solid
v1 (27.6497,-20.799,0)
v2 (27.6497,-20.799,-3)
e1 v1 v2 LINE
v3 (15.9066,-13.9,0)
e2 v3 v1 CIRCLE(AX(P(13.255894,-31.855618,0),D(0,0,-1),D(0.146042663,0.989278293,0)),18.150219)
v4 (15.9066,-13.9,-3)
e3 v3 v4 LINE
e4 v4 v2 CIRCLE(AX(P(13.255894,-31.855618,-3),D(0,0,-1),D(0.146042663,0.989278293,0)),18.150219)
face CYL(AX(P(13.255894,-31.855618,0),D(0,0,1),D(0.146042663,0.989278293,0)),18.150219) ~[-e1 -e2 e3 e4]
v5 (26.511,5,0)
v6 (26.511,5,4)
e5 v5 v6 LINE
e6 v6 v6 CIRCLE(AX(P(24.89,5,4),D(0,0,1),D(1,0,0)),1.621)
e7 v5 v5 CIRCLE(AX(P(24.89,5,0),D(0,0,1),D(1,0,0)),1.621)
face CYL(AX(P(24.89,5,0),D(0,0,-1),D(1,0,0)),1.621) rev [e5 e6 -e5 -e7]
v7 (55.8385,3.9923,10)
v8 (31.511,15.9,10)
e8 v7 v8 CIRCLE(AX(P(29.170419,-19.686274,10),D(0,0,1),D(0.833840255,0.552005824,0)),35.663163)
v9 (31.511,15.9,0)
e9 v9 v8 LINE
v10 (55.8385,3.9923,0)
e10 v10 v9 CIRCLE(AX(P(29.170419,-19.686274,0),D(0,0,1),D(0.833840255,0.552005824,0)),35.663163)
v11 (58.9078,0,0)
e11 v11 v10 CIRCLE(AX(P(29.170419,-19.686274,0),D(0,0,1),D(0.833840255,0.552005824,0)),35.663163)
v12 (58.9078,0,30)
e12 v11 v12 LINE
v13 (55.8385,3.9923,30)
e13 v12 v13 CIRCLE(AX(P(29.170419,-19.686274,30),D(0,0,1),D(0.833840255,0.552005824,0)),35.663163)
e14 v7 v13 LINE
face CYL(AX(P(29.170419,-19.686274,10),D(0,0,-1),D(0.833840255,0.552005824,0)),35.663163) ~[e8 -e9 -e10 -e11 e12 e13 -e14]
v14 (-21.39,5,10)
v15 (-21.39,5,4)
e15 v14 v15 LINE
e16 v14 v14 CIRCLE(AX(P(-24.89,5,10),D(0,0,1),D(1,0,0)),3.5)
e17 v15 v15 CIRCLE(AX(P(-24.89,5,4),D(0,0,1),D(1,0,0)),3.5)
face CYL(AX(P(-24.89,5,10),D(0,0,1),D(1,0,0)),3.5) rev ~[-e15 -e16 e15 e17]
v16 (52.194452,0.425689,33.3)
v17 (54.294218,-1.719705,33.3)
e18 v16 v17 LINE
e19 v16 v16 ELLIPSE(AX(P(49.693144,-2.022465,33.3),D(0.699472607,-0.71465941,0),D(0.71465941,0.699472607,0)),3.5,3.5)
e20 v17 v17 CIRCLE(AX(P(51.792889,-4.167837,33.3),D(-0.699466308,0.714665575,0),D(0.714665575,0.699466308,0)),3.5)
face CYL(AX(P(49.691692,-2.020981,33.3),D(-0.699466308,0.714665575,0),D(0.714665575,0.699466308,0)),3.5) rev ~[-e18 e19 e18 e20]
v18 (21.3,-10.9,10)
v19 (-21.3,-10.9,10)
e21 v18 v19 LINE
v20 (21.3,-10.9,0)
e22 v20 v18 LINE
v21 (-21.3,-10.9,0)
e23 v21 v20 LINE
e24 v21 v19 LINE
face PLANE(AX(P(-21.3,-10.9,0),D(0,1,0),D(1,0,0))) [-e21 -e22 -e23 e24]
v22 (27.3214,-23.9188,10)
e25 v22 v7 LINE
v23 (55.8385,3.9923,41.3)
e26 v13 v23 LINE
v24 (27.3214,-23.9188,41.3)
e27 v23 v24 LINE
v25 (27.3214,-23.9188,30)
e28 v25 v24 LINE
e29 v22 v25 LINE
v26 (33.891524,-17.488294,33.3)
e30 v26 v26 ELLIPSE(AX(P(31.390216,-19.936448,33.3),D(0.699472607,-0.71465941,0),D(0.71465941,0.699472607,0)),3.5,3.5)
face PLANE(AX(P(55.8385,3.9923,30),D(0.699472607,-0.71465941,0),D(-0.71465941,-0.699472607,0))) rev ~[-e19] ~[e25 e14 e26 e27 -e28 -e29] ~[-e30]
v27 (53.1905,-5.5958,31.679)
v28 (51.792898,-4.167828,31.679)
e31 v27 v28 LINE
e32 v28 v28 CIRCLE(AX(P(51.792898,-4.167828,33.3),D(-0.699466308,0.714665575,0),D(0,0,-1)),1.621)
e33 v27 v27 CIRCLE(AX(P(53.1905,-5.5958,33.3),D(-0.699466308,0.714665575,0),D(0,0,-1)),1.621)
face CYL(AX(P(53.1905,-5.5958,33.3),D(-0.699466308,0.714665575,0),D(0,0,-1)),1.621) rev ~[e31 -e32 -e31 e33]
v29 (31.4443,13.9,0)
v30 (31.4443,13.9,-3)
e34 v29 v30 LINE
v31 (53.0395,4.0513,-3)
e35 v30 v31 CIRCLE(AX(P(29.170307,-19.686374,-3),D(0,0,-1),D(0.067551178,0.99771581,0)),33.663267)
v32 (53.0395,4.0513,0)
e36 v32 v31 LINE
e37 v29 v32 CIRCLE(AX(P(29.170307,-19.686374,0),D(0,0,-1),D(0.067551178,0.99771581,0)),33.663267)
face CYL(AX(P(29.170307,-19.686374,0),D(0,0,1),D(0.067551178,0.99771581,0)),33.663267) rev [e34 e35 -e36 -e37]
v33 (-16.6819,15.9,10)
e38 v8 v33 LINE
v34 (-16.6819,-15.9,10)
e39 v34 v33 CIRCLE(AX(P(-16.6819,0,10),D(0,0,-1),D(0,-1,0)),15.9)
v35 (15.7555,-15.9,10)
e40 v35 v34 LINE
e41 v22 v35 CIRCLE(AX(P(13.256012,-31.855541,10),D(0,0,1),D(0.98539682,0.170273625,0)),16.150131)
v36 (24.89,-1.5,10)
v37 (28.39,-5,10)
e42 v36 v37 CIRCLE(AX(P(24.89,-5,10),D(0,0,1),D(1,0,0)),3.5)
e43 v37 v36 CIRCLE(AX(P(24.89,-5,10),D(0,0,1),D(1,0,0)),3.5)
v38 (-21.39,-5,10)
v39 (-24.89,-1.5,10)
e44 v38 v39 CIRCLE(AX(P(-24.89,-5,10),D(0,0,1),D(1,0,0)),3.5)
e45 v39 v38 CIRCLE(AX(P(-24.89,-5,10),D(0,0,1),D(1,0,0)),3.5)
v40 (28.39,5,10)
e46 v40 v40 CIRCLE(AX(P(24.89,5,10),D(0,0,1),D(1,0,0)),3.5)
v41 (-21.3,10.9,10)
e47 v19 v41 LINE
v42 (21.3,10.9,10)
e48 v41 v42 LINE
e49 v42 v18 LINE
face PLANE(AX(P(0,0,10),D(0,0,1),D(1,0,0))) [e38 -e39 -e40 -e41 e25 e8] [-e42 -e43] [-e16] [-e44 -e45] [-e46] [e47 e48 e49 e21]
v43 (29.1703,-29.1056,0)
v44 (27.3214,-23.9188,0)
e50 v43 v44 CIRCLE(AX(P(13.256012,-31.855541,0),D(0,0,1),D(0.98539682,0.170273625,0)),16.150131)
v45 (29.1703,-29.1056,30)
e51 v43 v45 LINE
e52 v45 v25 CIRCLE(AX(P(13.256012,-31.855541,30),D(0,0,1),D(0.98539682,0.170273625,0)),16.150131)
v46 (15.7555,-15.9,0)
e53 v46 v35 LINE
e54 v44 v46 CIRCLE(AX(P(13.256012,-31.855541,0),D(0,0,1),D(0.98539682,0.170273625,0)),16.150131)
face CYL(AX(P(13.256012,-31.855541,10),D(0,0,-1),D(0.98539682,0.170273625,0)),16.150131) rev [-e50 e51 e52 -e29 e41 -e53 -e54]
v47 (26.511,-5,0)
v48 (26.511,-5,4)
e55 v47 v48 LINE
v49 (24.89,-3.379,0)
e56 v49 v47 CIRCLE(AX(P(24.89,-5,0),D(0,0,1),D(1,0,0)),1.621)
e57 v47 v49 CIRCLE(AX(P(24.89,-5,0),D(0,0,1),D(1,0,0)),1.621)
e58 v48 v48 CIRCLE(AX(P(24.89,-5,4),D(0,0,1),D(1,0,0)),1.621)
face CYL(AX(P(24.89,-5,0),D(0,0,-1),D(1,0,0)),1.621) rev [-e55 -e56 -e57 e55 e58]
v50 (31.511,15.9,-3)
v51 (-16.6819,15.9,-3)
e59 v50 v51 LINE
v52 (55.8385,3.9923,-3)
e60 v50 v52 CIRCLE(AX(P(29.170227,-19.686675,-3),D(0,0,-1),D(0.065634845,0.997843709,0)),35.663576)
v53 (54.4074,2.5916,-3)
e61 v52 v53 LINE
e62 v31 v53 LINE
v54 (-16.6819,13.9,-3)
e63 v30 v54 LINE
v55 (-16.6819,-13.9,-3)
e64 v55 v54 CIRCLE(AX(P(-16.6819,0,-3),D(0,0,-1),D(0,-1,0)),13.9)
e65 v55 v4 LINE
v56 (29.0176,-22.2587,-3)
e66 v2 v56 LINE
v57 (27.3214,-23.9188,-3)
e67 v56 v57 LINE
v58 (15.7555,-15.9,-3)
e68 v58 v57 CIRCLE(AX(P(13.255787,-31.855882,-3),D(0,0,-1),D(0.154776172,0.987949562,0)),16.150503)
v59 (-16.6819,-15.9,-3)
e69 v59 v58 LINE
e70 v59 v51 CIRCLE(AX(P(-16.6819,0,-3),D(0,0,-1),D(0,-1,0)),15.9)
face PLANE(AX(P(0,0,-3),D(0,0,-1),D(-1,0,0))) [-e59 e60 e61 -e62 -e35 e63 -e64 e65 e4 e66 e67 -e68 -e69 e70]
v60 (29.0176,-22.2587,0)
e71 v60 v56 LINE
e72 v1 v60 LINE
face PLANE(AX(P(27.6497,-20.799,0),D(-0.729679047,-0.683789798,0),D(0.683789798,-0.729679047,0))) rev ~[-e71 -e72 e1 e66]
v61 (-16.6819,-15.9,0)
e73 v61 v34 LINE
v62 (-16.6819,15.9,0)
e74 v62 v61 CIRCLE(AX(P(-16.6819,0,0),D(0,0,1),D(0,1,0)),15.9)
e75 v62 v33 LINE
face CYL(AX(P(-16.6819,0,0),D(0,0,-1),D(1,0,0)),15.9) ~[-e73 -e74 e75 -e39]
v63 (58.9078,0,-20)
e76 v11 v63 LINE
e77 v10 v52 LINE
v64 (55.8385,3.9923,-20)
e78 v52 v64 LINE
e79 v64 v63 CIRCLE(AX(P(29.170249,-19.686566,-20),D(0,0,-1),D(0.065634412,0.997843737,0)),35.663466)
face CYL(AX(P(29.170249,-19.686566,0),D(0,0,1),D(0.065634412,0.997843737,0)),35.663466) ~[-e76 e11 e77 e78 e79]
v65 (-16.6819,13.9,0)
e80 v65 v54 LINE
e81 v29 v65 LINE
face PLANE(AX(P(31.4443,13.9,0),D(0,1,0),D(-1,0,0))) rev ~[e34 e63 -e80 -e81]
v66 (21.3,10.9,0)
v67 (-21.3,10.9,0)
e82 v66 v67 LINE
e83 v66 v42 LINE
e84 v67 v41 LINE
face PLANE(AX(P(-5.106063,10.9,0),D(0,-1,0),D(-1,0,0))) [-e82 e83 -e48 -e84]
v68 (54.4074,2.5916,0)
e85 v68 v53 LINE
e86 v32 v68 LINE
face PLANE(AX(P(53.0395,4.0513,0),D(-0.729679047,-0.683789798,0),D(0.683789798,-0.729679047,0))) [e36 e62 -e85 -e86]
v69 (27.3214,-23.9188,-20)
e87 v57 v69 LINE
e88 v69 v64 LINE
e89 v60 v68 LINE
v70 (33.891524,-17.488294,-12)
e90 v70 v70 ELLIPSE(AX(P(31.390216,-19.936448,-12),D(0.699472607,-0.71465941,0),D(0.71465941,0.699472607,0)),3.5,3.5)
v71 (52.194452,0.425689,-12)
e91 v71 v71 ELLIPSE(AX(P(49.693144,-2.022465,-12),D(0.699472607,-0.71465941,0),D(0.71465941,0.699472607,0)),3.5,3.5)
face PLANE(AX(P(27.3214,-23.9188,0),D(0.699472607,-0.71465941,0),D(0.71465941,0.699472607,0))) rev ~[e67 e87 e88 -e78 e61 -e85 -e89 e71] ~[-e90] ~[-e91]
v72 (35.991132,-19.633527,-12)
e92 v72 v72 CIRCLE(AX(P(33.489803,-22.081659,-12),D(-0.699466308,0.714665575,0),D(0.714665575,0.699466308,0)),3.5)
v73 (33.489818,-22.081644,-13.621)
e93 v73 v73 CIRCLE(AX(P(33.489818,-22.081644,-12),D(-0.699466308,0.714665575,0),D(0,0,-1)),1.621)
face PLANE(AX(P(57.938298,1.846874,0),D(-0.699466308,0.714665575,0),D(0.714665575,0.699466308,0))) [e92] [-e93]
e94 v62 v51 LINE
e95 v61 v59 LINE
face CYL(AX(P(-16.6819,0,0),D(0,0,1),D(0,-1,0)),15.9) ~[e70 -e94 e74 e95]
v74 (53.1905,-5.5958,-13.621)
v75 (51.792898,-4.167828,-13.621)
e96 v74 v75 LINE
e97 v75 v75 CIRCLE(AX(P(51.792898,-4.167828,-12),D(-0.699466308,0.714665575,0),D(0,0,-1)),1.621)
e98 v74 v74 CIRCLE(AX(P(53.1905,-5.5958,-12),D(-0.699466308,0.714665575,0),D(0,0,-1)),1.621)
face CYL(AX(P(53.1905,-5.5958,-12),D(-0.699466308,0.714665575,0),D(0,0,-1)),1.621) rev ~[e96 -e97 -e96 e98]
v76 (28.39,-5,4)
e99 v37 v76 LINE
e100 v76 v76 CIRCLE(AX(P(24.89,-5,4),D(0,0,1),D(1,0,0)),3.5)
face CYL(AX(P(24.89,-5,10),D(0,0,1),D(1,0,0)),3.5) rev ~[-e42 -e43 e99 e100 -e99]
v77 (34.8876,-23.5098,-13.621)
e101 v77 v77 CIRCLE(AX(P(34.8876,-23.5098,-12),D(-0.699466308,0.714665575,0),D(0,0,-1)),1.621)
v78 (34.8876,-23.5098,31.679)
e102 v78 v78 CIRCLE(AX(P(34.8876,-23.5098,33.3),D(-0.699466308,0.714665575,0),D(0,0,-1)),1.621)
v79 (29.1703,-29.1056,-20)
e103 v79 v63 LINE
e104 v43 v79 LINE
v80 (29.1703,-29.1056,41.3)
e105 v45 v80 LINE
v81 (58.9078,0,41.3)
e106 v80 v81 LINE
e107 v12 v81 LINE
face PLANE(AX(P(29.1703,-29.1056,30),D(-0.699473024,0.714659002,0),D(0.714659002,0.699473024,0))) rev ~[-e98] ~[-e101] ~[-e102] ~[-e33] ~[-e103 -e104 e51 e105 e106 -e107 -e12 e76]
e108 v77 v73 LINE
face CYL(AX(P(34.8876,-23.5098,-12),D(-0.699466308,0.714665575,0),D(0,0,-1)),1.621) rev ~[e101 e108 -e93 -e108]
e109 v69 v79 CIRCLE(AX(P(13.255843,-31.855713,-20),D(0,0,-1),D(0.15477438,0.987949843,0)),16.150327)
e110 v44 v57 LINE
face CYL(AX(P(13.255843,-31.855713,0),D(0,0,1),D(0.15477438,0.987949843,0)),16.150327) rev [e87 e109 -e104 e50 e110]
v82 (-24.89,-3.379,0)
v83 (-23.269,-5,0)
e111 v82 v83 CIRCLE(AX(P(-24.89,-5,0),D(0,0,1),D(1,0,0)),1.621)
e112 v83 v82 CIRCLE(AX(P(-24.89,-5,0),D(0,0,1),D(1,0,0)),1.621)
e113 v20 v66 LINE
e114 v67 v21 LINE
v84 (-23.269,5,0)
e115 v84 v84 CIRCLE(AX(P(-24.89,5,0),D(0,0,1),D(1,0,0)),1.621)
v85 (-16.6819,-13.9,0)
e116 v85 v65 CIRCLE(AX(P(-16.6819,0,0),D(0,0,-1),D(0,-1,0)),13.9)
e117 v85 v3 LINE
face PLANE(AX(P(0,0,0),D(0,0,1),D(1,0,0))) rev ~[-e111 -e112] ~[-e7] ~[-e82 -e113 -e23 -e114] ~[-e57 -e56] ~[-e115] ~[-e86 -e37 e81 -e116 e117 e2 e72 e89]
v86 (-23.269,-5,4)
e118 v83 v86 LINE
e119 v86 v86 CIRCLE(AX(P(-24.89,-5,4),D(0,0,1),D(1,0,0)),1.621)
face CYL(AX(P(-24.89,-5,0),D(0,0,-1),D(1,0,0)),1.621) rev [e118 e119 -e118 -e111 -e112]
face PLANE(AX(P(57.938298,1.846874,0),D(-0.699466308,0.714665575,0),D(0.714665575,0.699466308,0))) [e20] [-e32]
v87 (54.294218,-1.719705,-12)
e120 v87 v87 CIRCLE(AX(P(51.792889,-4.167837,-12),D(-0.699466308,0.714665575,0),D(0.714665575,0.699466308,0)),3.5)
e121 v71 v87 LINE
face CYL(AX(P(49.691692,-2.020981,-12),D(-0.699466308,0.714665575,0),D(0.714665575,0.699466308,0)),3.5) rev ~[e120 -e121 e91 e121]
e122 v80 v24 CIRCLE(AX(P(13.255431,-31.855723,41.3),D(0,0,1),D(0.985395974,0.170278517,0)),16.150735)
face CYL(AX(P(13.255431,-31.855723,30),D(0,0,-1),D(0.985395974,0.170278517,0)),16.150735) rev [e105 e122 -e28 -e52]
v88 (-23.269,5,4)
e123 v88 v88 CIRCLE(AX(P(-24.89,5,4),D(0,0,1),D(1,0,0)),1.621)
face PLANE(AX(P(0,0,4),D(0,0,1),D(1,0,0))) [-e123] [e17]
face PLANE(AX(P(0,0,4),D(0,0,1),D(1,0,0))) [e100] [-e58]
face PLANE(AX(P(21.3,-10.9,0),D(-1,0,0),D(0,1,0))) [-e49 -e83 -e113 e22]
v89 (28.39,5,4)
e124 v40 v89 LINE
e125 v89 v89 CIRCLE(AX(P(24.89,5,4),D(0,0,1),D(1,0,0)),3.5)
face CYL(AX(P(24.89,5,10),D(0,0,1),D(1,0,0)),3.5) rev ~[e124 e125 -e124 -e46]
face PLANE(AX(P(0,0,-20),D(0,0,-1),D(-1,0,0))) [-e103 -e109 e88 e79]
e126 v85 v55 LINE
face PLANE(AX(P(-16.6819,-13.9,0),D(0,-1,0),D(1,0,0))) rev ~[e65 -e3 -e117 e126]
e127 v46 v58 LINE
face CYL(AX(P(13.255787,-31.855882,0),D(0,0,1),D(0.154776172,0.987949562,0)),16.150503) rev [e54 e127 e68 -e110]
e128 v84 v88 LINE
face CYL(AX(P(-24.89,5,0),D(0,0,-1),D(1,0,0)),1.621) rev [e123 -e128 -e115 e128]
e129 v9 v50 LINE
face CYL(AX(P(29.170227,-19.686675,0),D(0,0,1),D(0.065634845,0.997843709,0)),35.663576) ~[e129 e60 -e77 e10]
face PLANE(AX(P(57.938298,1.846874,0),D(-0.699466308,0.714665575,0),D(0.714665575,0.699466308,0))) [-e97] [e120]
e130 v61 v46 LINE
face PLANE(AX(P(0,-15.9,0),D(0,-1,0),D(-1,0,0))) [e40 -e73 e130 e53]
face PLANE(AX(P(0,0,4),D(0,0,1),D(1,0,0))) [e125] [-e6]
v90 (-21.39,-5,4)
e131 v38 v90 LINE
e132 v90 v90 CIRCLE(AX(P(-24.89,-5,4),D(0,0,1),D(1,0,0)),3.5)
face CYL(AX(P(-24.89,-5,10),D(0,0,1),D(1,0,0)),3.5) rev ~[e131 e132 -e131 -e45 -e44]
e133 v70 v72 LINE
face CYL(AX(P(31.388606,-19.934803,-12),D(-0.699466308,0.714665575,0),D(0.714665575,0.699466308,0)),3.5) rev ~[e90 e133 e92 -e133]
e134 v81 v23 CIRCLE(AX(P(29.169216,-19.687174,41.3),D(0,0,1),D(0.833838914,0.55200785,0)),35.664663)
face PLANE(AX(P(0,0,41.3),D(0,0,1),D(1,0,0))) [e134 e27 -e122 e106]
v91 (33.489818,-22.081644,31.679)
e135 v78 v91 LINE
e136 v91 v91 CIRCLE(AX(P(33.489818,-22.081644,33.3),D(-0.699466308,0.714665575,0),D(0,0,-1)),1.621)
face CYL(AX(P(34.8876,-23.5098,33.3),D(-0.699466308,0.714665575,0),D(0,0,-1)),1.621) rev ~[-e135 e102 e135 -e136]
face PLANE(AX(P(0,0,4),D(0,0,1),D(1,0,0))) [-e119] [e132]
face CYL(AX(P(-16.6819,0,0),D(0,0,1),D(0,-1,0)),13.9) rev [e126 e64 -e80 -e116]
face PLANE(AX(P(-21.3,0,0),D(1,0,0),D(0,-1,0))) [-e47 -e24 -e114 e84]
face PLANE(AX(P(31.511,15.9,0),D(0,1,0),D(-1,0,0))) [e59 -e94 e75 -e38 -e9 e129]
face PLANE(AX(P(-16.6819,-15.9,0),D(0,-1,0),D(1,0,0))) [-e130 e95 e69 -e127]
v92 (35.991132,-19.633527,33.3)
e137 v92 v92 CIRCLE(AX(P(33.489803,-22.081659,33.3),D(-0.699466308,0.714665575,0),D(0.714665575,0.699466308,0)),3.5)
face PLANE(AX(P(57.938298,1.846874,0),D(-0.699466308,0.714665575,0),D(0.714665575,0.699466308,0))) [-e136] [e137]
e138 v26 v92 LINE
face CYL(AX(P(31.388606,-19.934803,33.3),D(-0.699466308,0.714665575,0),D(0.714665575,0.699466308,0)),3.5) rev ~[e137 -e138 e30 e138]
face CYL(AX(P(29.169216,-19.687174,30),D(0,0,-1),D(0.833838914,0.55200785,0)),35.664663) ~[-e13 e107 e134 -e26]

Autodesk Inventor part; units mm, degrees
ref_plane "YZ Plane" through (0, 0, 0) normal (1, 0, 0) x (0, 1, 0)
ref_plane "XZ Plane" through (0, 0, 0) normal (0, 1, 0) x (-1, 0, 0)
ref_plane "XY Plane" through (0, 0, 0) normal (0, 0, 1) x (1, 0, 0)
sketch "Szkic1" plane through (0, 0, 0) normal (0, 0, 1) x (1, 0, 0)
  line L0 (20.3, -9.9) -> (-20.3, -9.9)
  line L1 (-20.3, -9.9) -> (-20.3, 9.9)
  line L2 (-20.3, 9.9) -> (20.3, 9.9)
  line L3 (20.3, 9.9) -> (20.3, -9.9)
  line L4 (20.3, -9.9) -> (-20.3, 9.9) construction
  line L5 (-20.3, -9.9) -> (20.3, 9.9) construction
  line L6 (21.3, 10.9) -> (-21.3, 10.9)
  line L7 (-21.3, 10.9) -> (-21.3, -10.9)
  line L8 (-21.3, -10.9) -> (21.3, -10.9)
  line L9 (21.3, -10.9) -> (21.3, 10.9)
  line L10 (0, 0) -> (24.89, 0)
  line L11 (24.89, 0) -> (24.89, 5)
  line L12 (24.89, 5) -> (24.89, -5)
  line L13 (0, 0) -> (-24.89, 0)
  line L14 (-24.89, 5) -> (-24.89, 0)
  line L15 (-24.89, 0) -> (-24.89, -5)
  circle A0 centre (-24.89, 5) radius 1.621
  circle A1 centre (-24.89, -5) radius 1.621
  circle A2 centre (24.89, -5) radius 1.621
  circle A3 centre (24.89, 5) radius 1.621
  line L16 (-26.511, 5) -> (-31.511, 5)
  line L17 (26.511, 5) -> (31.511, 5)
  line L18 (0, 10.9) -> (0, 15.9)
  line L19 (0, 15.9) -> (-16.6819, 15.9)
  line L20 (0, -10.9) -> (0, -15.9)
  line L21 (0, -15.9) -> (-16.6819, -15.9)
  line L22 (-31.511, -5.7364) -> (-31.511, 5.7364)
  line L23 (0, 15.9) -> (31.511, 15.9)
  line L24 (31.511, 15.9) -> (31.511, -15.9)
  line L25 (0, -15.9) -> (31.511, -15.9)
  arc A4 (58.9078, 0) -> (31.511, 15.9) centre (29.1703, -19.6864) ccw
  arc A5 (29.1703, -29.1056) -> (15.7555, -15.9) centre (13.2559, -31.8556) ccw
  line L26 (29.1703, -29.1056) -> (58.9078, 0)
  circle A6 centre (-16.6819, 0) radius 15.9
  arc A7 (-32.5353, -15.867) -> (-31.511, -15.9) centre (-31.511, 0) ccw
  point P0 (58.9078, 0)
  dimension "d10" = 3.242
  dimension "d13" = 3.242
  dimension "d0" = 40.6
  dimension "d1" = 19.8
  dimension "d2" = 1
  dimension "d3" = 42.6
  dimension "d4" = 24.89
  dimension "d5" = 5
  dimension "d6" = 10
  dimension "d7" = 24.89
  dimension "d8" = 5
  dimension "d9" = 5
  dimension "d11" = 3.242
  dimension "d12" = 3.242
  dimension "d14" = 5
  dimension "d15" = 5
  dimension "d16" = 5
  dimension "d17" = 5
  dimension "d18" = 6.621
  dimension "d19" = 63.022
  dimension "d20" = 10.9
  dimension "d21" = 0
extrude "Wyciągnięcie proste1" add sketch "Szkic1" along normal blind 10 contours A6 L22 L16 A0 L14 L13 L7 L8 | L8 L20 L21 A6 | L10 L11 A3 L17 L24 L25 L20 L8 L9 | L9 L6 L18 L23 L24 L17 A3 L11 L10 | L13 L14 A0 L16 L22 A6 L6 L7 | A6 L22 | A6 L19 L18 L6 | L25 L24 A4 L26 A5
sketch "Szkic2" plane through (0, 0, 10) normal (0, 0, 1) x (1, 0, 0)
  arc A0 (29.1703, -29.1056) -> (15.7555, -15.9) centre (13.2559, -31.8556) ccw projected
  line L0 (29.1703, -29.1056) -> (58.9078, 0) projected
  arc A1 (58.9078, 0) -> (31.511, 15.9) centre (29.1703, -19.6864) ccw projected
  line L1 (29.1703, -29.1056) -> (58.9078, 0) projected
  arc A2 (29.1703, -29.1056) -> (15.7555, -15.9) centre (13.2559, -31.8556) ccw projected
  line L2 (27.3214, -23.9188) -> (55.8385, 3.9923)
  line L3 (31.511, 15.9) -> (-16.6819, 15.9) projected
  arc A3 (-16.6819, 15.9) -> (-16.6819, -15.9) centre (-16.6819, 0) ccw projected
  line L4 (-16.6819, -15.9) -> (15.7555, -15.9) projected
  point P0 (0, 0)
  dimension "d24" = 5
extrude "Wyciągnięcie proste2" add sketch "Szkic2" along normal blind 20 contours A0 L2 A1 L0
sketch "Szkic3" plane through (0, 0, 0) normal (0, 0, -1) x (-1, 0, 0)
  line L0 (-27.3214, -23.9188) -> (-55.8385, 3.9923) projected
  line L1 (-29.1703, -29.1056) -> (-58.9078, 0) projected
  arc A0 (-15.7555, -15.9) -> (-29.1703, -29.1056) centre (-13.2559, -31.8556) ccw projected
  arc A1 (-31.511, 15.9) -> (-58.9078, 0) centre (-29.1703, -19.6864) ccw projected
  line L2 (-29.1703, -29.1056) -> (-58.9078, 0) projected
  line L3 (16.6819, -15.9) -> (-15.7555, -15.9) projected
  arc A2 (16.6819, -15.9) -> (16.6819, 15.9) centre (16.6819, 0) ccw projected
  line L4 (-31.511, 15.9) -> (16.6819, 15.9) projected
  point P0 (0, 0)
  point P1 (-55.8385, 3.9923)
extrude "Wyciągnięcie proste3" add sketch "Szkic3" along normal blind 20 contours A0 L1 A1 L0
sketch "Szkic9" plane through (0, 0, 30) normal (0, 0, 1) x (1, 0, 0)
  arc A0 (29.1703, -29.1056) -> (27.3214, -23.9188) centre (13.2559, -31.8556) ccw projected
  line L0 (29.1703, -29.1056) -> (58.9078, 0) projected
  arc A1 (58.9078, 0) -> (55.8385, 3.9923) centre (29.1703, -19.6864) ccw projected
  line L1 (55.8385, 3.9923) -> (27.3214, -23.9188) projected
  point P0 (0, 0)
extrude "Wyciągnięcie proste5" add sketch "Szkic9" along normal blind 11.3
sketch "Szkic10" plane through (58.9078, 0, -20) normal (0.6995, -0.7147, 0) x (0.7147, 0.6995, 0)
  line L0 (-41.6107, 0) -> (-41.6107, 61.3) projected
  line L1 (0, 0) -> (-41.6107, 0) projected
  line L2 (0, 0) -> (0, 61.3) projected
  line L3 (-41.6107, 61.3) -> (0, 61.3) projected
  point P0 (-42.099, 20)
  point P1 (-33.6107, 8)
  point P2 (-8, 8)
  point P3 (-33.6107, 53.3)
  point P4 (-8, 53.3)
  dimension "d60" = 8
  dimension "d61" = 8
  dimension "d62" = 8
  dimension "d63" = 8
  dimension "d64" = 8
  dimension "d65" = 8
  dimension "d66" = 8
  dimension "d67" = 8
hole "Otwór2" at (34.8876, -23.5098, -12) at (53.1905, -5.5958, -12) at (34.8876, -23.5098, 33.3) at (53.1905, -5.5958, 33.3) direction (-0.6995, 0.7147, 0) diameter 3.242 end through all thread size "M4x0.7" designation "M4" class "6H" standard "GB Metric profile"
sketch "Szkic12" plane through (55.8385, 3.9923, 0) normal (-0.6995, 0.7147, 0) x (0.7147, 0.6995, 0)
  circle A0 centre (-34.2097, 12) radius 1.621 projected
  circle A1 centre (-8.599, 12) radius 1.621 projected
  line L0 (0, 0) -> (-39.9031, 0) projected
  line L1 (0, 0) -> (0, 20) projected
  line L2 (-39.9031, 20) -> (0, 20) projected
  line L3 (-39.9031, 0) -> (-39.9031, 20) projected
  circle A2 centre (-34.2097, -33.3) radius 1.621 projected
  circle A3 centre (-8.599, -33.3) radius 1.621 projected
  line L4 (-39.9031, -10) -> (0, -10) projected
  line L5 (-39.9031, -10) -> (-39.9031, -41.3) projected
  line L6 (0, -41.3) -> (-39.9031, -41.3) projected
  line L7 (0, -10) -> (0, -41.3) projected
  circle A4 centre (-8.599, 12) radius 1.621 projected
  circle A5 centre (-8.599, 12) radius 3.5
  circle A6 centre (-34.2097, 12) radius 3.5
  circle A7 centre (-34.2097, -33.3) radius 3.5
  circle A8 centre (-8.599, -33.3) radius 3.5
  point P0 (-42.698, 0)
  dimension "d77" = 7
  dimension "d78" = 7
  dimension "d79" = 7
  dimension "d80" = 7
extrude "Wyciągnięcie proste6" cut sketch "Szkic12" against normal blind 3 contours A0 | A1 | A2 | A3 | A5 | A6 | A7 | A8
sketch "Szkic15" plane through (0, 0, 0) normal (0, 0, -1) x (-1, 0, 0)
  line L0 (-55.8385, 3.9923) -> (-27.3214, -23.9188) projected
  arc A0 (-15.7555, -15.9) -> (-27.3214, -23.9188) centre (-13.2559, -31.8556) ccw projected
  line L1 (16.6819, -15.9) -> (-15.7555, -15.9) projected
  arc A1 (16.6819, -15.9) -> (16.6819, 15.9) centre (16.6819, 0) ccw projected
  line L2 (-31.511, 15.9) -> (16.6819, 15.9) projected
  arc A2 (-31.511, 15.9) -> (-55.8385, 3.9923) centre (-29.1703, -19.6864) ccw projected
  circle A3 centre (24.89, 5) radius 1.621 projected
  circle A4 centre (24.89, -5) radius 1.621 projected
  line L3 (-21.3, 10.9) -> (-21.3, -10.9) projected
  line L4 (21.3, 10.9) -> (-21.3, 10.9) projected
  line L5 (21.3, -10.9) -> (21.3, 10.9) projected
  line L6 (-21.3, -10.9) -> (21.3, -10.9) projected
  circle A5 centre (-24.89, -5) radius 1.621 projected
  circle A6 centre (-24.89, 5) radius 1.621 projected
  arc A7 (16.6819, -13.9) -> (16.6819, 13.9) centre (16.6819, 0) ccw
  line L7 (16.6819, -13.9) -> (-15.9066, -13.9)
  arc A8 (-15.9066, -13.9) -> (-27.6497, -20.799) centre (-13.2559, -31.8556) ccw
  line L8 (-27.6497, -20.799) -> (-53.0395, 4.0513)
  arc A9 (-31.4443, 13.9) -> (-53.0395, 4.0513) centre (-29.1703, -19.6864) ccw
  line L9 (-31.4443, 13.9) -> (16.6819, 13.9)
  line L10 (-53.0395, 4.0513) -> (-54.4074, 2.5916)
  line L11 (-55.8385, 3.9923) -> (-27.3214, -23.9188) projected
  line L12 (-27.6497, -20.799) -> (-29.0176, -22.2587)
  point P0 (0, 0)
  dimension "d86" = 2
extrude "Wyciągnięcie proste8" add sketch "Szkic15" along normal blind 3 contours A2 L2 A1 L1 A0 L0 L12 A8 L7 A7 L9 A9 L10
sketch "Szkic17" plane through (0, 0, 10) normal (0, 0, 1) x (1, 0, 0)
  line L0 (27.3214, -23.9188) -> (55.8385, 3.9923) projected
  arc A0 (55.8385, 3.9923) -> (31.511, 15.9) centre (29.1703, -19.6864) ccw projected
  line L1 (31.511, 15.9) -> (-16.6819, 15.9) projected
  arc A1 (-16.6819, 15.9) -> (-16.6819, -15.9) centre (-16.6819, 0) ccw projected
  line L2 (-16.6819, -15.9) -> (15.7555, -15.9) projected
  arc A2 (27.3214, -23.9188) -> (15.7555, -15.9) centre (13.2559, -31.8556) ccw projected
  circle A3 centre (-24.89, 5) radius 1.621 projected
  circle A4 centre (-24.89, -5) radius 1.621 projected
  line L3 (21.3, 10.9) -> (21.3, -10.9) projected
  line L4 (21.3, -10.9) -> (-21.3, -10.9) projected
  line L5 (-21.3, -10.9) -> (-21.3, 10.9) projected
  line L6 (-21.3, 10.9) -> (21.3, 10.9) projected
  circle A5 centre (24.89, -5) radius 1.621 projected
  circle A6 centre (24.89, 5) radius 1.621 projected
  circle A7 centre (-24.89, -5) radius 3.5
  circle A8 centre (-24.89, 5) radius 1.621 projected
  circle A9 centre (-24.89, 5) radius 3.5
  circle A10 centre (24.89, -5) radius 3.5
  circle A11 centre (24.89, 5) radius 3.5
  point P0 (0, 0)
  dimension "d89" = 7
  dimension "d90" = 7
  dimension "d91" = 7
  dimension "d92" = 7
extrude "Wyciągnięcie proste9" cut sketch "Szkic17" against normal blind 6 contours A7 | A9 | A10 | A11
equation "\"d13\" = d10"
equation "\"d11\" = d10"
equation "\"d12\" = d10"
equation "\"d62\" = d61"
equation "\"d63\" = d62"
properties part number "Ramie1_Drukowanie 3D"
